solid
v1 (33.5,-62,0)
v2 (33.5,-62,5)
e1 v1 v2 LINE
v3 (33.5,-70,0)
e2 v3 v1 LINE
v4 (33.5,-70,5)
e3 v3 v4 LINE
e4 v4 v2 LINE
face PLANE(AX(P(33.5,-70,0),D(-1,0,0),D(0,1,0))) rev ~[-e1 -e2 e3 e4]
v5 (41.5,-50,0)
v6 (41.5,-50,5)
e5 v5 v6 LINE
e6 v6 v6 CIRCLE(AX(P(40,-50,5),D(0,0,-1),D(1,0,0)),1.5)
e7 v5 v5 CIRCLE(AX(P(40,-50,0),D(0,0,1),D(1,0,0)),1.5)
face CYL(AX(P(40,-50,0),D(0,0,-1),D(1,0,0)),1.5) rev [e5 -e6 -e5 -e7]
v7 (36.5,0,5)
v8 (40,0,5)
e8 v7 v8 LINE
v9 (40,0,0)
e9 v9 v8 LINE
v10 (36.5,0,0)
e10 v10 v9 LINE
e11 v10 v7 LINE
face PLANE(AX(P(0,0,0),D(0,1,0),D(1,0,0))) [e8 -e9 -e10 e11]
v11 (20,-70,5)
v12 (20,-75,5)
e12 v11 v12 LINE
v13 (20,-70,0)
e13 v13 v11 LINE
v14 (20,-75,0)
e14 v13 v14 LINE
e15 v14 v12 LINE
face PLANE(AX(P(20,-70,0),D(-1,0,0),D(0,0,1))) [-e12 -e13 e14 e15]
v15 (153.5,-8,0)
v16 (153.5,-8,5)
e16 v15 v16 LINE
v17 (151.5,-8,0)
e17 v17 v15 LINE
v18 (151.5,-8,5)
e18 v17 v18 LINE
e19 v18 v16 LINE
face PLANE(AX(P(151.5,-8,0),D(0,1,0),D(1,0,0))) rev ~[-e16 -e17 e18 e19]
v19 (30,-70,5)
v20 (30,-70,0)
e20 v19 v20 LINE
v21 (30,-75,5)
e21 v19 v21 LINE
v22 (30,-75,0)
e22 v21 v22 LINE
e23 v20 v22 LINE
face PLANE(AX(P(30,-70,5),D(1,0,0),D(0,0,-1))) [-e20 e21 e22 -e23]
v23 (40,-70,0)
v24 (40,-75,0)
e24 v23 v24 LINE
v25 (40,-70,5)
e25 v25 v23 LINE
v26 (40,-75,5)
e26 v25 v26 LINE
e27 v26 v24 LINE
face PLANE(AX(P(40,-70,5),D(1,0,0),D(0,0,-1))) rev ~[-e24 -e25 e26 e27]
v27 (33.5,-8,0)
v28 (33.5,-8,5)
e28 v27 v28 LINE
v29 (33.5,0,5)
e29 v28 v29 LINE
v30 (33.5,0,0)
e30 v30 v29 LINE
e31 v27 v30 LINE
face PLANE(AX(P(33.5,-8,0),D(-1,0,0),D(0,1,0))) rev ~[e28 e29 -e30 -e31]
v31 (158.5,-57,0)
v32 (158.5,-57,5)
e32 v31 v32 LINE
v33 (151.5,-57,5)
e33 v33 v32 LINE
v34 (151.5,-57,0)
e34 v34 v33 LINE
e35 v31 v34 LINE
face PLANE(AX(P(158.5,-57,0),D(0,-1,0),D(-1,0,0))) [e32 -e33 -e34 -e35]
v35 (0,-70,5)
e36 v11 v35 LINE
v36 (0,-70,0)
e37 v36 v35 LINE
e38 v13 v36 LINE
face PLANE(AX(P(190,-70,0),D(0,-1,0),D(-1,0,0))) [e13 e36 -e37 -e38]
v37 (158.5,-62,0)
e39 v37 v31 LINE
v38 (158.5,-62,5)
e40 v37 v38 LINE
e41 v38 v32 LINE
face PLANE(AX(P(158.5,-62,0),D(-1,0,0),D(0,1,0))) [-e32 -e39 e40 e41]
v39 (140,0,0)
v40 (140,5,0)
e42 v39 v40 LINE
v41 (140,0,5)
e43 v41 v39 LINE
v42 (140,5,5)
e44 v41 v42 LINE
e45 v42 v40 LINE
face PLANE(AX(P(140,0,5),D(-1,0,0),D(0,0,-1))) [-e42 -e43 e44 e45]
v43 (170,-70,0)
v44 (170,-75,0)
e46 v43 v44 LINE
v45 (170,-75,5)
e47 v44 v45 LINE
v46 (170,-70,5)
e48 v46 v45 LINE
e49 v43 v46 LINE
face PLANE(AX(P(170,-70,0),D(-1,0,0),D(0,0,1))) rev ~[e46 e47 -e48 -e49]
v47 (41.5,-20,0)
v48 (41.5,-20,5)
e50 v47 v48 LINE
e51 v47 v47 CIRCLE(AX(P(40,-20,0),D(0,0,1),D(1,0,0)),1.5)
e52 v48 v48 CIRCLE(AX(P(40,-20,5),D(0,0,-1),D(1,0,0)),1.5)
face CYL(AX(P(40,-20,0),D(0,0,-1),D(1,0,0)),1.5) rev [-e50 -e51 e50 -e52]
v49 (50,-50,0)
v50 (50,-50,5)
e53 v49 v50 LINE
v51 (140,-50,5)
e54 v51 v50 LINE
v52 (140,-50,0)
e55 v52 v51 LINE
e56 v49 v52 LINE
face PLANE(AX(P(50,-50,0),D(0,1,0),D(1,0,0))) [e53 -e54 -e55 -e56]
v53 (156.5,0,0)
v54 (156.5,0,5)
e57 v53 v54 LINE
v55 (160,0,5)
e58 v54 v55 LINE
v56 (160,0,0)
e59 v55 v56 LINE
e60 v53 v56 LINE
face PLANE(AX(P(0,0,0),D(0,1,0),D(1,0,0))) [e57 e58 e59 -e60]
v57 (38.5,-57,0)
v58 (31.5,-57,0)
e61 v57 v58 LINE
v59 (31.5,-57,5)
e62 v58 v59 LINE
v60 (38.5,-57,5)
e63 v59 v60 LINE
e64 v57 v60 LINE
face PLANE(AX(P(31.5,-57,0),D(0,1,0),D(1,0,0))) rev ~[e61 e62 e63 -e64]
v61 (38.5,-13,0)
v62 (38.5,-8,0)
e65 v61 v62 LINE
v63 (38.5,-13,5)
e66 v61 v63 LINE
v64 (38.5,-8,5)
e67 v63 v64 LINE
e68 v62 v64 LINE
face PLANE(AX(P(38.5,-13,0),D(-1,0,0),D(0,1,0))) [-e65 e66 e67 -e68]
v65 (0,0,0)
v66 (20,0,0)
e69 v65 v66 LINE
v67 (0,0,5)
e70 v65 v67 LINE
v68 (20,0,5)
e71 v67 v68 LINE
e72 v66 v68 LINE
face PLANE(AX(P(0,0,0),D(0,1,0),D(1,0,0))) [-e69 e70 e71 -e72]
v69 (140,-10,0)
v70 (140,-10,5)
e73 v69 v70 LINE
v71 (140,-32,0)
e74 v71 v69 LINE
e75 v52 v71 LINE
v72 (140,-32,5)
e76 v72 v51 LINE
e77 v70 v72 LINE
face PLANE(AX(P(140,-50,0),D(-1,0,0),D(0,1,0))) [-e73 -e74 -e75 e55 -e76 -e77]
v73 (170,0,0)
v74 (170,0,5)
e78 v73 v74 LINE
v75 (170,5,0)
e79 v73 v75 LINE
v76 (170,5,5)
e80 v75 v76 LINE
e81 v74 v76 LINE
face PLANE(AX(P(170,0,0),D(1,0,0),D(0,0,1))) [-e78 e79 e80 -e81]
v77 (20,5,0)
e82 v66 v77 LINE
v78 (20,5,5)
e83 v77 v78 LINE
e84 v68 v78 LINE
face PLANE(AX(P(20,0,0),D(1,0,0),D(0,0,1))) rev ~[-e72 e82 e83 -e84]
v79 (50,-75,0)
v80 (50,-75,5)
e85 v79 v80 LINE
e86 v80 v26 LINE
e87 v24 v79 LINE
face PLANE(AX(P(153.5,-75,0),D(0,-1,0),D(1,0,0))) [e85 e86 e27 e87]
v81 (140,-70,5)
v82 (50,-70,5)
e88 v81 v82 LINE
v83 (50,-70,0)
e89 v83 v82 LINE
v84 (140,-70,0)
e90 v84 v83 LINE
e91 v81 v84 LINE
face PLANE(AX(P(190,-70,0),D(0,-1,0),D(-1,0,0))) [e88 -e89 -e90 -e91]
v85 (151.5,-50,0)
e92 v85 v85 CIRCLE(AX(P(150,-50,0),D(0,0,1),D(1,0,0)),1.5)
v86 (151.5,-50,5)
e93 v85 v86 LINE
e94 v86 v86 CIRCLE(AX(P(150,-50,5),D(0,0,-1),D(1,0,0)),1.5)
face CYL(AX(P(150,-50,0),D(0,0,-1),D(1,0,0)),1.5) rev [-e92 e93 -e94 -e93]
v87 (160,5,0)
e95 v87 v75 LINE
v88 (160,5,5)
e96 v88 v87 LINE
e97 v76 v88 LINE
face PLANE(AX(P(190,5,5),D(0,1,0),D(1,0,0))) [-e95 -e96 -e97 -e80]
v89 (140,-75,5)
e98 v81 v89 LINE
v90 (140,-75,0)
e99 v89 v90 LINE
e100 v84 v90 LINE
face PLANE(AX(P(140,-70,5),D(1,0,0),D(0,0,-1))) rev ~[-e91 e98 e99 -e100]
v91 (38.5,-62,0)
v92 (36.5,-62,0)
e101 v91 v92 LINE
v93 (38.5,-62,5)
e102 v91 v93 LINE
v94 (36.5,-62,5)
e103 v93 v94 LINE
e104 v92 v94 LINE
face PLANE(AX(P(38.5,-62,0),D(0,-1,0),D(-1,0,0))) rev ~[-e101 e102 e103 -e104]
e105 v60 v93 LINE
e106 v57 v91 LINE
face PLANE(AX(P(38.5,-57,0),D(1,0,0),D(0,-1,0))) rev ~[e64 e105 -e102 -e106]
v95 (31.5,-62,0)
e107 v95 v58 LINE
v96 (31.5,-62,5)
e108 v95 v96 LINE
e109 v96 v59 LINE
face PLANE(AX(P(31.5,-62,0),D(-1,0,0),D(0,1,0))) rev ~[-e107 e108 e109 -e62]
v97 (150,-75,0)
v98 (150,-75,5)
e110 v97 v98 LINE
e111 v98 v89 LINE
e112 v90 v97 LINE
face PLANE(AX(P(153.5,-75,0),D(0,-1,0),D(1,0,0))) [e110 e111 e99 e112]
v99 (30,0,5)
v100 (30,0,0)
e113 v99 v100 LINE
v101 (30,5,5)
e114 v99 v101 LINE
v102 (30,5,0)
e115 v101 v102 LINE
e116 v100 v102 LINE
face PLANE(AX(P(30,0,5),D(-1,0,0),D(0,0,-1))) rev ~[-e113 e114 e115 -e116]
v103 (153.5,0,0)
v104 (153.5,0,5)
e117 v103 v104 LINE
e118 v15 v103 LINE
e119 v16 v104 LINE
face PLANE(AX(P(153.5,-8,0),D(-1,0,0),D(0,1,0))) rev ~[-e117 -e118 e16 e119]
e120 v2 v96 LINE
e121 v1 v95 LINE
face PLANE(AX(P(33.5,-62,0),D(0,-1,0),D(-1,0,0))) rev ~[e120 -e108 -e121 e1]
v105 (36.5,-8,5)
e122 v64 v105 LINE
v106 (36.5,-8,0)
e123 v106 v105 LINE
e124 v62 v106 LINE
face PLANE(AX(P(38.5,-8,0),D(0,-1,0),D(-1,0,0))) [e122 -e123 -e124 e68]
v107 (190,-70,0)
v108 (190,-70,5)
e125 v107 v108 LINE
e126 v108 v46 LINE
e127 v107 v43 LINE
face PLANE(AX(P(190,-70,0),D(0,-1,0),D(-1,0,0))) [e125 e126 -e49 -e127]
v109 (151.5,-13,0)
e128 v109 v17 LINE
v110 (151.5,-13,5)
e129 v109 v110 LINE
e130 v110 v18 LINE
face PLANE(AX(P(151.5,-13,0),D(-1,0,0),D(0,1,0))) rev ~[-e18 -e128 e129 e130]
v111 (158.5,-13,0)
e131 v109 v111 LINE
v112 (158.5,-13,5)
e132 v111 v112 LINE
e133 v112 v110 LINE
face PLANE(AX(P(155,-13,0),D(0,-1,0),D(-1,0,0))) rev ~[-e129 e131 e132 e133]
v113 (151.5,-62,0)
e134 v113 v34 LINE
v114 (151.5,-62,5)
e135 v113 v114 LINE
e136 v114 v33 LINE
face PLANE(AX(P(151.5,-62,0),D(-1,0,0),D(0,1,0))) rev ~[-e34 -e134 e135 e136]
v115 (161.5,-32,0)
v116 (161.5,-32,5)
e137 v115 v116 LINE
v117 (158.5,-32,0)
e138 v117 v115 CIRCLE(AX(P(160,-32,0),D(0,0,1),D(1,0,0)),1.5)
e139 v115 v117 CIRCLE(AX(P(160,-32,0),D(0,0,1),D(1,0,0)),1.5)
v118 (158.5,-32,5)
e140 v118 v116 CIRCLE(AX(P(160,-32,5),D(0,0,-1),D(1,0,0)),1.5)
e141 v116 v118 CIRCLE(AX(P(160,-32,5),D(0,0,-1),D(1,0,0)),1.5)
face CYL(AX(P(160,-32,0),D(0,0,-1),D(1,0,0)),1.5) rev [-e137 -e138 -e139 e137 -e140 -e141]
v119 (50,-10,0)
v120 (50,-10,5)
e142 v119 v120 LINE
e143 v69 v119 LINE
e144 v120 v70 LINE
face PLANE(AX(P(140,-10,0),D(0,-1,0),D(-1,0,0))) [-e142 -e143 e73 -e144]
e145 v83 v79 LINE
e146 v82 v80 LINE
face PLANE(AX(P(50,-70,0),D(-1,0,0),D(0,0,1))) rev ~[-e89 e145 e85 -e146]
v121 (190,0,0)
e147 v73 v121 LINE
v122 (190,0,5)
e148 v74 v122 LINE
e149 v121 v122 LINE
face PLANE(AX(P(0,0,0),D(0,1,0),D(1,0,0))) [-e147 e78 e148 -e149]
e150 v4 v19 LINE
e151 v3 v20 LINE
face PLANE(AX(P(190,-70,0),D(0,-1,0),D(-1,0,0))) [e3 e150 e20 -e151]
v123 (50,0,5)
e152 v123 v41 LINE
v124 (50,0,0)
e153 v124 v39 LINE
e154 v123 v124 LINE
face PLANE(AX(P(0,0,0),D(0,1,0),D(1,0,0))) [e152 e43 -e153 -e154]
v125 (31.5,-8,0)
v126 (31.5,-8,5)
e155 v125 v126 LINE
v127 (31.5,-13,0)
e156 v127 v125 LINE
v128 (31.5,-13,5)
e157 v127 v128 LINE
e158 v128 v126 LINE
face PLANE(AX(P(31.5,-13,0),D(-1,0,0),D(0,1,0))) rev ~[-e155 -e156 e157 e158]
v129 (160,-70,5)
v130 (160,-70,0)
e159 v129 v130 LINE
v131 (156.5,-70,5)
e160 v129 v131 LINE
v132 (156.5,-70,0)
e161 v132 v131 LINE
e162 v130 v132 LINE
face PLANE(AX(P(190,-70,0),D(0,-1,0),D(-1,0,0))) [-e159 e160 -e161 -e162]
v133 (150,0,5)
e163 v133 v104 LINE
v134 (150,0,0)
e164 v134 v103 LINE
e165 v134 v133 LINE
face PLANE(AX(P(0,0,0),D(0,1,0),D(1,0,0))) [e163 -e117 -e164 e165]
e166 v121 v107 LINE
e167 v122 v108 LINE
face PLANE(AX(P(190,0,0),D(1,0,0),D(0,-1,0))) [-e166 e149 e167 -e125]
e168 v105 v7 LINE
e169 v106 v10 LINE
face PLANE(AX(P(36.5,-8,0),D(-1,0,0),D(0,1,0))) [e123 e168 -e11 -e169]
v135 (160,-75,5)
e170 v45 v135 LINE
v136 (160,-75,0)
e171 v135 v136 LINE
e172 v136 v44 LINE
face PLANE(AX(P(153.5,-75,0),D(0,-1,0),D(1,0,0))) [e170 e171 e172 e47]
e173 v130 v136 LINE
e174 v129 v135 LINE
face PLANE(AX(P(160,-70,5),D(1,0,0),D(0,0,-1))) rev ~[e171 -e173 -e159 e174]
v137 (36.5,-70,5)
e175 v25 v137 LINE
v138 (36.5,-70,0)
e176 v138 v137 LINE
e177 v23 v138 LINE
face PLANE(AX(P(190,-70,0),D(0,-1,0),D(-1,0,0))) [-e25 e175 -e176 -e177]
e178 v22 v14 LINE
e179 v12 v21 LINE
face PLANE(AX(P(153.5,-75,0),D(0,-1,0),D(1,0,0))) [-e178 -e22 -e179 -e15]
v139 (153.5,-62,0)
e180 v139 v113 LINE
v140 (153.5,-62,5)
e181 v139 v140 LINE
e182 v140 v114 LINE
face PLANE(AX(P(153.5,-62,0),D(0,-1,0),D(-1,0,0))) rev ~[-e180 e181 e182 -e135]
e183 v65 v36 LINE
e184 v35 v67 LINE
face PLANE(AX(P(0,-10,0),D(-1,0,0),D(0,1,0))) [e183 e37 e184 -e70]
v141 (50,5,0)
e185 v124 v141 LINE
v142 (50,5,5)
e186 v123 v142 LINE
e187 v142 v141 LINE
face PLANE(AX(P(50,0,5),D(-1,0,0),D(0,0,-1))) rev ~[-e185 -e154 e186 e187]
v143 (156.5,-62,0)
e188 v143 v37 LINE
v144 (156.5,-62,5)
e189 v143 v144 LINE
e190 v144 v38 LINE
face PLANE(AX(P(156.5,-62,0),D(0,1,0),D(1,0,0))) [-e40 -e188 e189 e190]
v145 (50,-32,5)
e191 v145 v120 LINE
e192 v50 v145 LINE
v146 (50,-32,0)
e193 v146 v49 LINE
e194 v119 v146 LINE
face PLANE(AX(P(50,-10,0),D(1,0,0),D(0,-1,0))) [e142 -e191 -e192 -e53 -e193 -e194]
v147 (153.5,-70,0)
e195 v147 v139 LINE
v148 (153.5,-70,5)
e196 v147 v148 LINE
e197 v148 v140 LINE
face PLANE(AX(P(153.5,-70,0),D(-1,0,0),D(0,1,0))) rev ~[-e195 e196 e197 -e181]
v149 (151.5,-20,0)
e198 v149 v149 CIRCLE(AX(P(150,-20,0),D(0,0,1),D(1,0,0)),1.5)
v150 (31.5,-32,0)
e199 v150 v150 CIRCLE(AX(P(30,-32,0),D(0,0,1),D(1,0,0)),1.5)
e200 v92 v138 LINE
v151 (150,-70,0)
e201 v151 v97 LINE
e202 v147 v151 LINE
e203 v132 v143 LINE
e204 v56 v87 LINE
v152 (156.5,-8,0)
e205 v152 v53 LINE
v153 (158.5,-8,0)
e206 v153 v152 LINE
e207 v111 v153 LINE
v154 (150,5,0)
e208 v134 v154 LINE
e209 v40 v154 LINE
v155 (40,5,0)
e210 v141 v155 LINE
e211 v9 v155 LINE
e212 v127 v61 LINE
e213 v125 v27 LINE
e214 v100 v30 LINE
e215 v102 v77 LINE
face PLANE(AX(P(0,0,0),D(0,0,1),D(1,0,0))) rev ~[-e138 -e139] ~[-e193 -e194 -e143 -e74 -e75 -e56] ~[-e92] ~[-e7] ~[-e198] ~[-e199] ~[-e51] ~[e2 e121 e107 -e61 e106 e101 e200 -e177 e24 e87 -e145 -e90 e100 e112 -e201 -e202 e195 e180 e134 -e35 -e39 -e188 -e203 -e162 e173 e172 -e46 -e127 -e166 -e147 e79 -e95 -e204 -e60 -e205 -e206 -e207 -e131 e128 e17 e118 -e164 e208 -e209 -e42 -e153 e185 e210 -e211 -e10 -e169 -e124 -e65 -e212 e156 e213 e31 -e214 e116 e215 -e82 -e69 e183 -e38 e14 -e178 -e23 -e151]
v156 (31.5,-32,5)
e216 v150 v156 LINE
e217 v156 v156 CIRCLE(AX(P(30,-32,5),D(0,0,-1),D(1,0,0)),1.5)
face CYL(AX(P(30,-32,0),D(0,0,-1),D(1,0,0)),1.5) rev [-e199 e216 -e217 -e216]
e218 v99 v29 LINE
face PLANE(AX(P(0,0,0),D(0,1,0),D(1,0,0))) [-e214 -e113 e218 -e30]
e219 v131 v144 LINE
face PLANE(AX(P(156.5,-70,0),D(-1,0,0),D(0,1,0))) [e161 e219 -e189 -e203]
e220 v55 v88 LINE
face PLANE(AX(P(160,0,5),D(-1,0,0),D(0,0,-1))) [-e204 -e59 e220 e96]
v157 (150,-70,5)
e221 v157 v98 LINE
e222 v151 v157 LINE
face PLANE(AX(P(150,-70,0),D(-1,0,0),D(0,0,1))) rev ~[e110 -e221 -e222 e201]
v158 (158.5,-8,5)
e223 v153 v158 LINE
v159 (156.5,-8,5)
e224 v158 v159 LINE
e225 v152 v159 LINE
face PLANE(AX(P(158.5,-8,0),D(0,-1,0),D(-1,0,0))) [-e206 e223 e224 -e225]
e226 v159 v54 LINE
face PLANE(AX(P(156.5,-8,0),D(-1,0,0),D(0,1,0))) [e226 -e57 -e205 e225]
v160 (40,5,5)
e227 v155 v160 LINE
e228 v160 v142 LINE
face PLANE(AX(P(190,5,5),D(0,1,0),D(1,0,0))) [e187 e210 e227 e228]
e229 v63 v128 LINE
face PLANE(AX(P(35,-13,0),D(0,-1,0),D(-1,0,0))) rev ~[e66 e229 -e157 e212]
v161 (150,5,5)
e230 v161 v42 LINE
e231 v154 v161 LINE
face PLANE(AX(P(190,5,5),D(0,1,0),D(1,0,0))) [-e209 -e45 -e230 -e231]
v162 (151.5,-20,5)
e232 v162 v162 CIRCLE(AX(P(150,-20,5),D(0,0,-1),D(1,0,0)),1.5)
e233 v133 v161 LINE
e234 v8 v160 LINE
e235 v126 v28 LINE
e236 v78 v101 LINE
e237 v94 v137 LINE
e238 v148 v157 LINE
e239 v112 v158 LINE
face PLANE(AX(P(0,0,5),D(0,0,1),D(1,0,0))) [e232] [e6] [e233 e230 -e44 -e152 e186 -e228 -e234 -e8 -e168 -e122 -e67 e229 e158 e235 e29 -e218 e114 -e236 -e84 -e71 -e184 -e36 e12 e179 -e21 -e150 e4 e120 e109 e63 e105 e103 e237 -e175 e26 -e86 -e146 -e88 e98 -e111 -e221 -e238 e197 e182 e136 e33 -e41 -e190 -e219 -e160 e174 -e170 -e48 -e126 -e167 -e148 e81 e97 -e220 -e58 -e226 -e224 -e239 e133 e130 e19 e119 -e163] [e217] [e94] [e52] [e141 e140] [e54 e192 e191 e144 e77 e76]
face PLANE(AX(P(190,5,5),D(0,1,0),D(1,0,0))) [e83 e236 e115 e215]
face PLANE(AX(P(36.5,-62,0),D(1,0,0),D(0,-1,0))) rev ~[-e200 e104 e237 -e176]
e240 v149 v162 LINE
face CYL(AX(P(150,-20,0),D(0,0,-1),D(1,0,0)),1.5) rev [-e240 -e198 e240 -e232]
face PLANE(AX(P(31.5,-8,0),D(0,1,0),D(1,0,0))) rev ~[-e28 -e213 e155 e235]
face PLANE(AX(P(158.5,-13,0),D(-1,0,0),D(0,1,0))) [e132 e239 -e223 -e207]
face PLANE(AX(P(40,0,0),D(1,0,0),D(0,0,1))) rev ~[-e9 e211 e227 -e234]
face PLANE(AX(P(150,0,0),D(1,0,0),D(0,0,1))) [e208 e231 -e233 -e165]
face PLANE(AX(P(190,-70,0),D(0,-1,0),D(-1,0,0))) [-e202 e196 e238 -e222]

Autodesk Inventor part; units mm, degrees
ref_plane "YZ Plane" through (0, 0, 0) normal (1, 0, 0) x (0, 1, 0)
ref_plane "XZ Plane" through (0, 0, 0) normal (0, 1, 0) x (-1, 0, 0)
ref_plane "XY Plane" through (0, 0, 0) normal (0, 0, 1) x (1, 0, 0)
sketch "Sketch1" plane through (0, 0, 0) normal (0, 0, 1) x (1, 0, 0)
  line L0 (0, 0) -> (190, 0)
  line L1 (190, 0) -> (190, -70)
  line L2 (190, -70) -> (0, -70)
  line L3 (0, -70) -> (0, 0)
  line L4 (0, 0) -> (0, -40)
  line L5 (0, 0) -> (0, -10)
  line L6 (50, -10) -> (50, -50)
  line L7 (50, -50) -> (140, -50)
  line L8 (140, -50) -> (140, -10)
  line L9 (140, -10) -> (50, -10)
  circle A0 centre (40, -20) radius 1.5
  circle A1 centre (150, -20) radius 1.5
  circle A2 centre (150, -50) radius 1.5
  circle A3 centre (40, -50) radius 1.5
  line L10 (50, -10) -> (50, -12)
  line L11 (50, -12) -> (50, -32)
  line L12 (50, -32) -> (30, -32)
  line L13 (140, -32) -> (160, -32)
  circle A4 centre (30, -32) radius 1.5
  circle A5 centre (160, -32) radius 1.5
  dimension "d0" = 190
  dimension "d1" = 70
  dimension "d116" = 40
  dimension "d118" = 50
  dimension "d119" = 40
  dimension "d120" = 90
  dimension "d125" = 3
  dimension "d126" = 3
  dimension "d127" = 3
  dimension "d128" = 3
  dimension "d130" = 20
  dimension "d131" = 20
  dimension "d132" = 20
  dimension "d133" = 3
  dimension "d134" = 3
  dimension "d140" = 20
  dimension "d141" = 20
  dimension "d145" = 18
  dimension "d146" = 18
extrude "Extrusion3" add sketch "Sketch1" along normal blind 5 contours L0 L1 L2 L3 | L9 L8 L7 L6 | A5 | A4 | A0 | A1 | A2 | A3
sketch "Sketch3" plane through (0, 0, 0) normal (0, 0, -1) x (-1, 0, 0)
  line L0 (0, 0) -> (-35, 0)
  line L1 (-35, 0) -> (-35, -13)
  line L2 (-35, -13) -> (-31.5, -13)
  line L3 (-35, -13) -> (-38.5, -13)
  line L4 (-38.5, -13) -> (-38.5, -8)
  line L5 (-38.5, -8) -> (-36.5, -8)
  line L6 (-36.5, -8) -> (-36.5, 0)
  line L7 (-31.5, -13) -> (-31.5, -8)
  line L8 (-31.5, -8) -> (-33.5, -8)
  line L9 (-33.5, -8) -> (-33.5, 0)
  line L10 (-35, 0) -> (-75, 0) construction
  line L11 (-75, 0) -> (-75, -13)
  line L12 (-75, -13) -> (-71.5, -13)
  line L13 (-75, -13) -> (-78.5, -13)
  line L14 (-78.5, -13) -> (-78.5, -8)
  line L15 (-78.5, -8) -> (-76.5, -8)
  line L16 (-71.5, -13) -> (-71.5, -8)
  line L17 (-71.5, -8) -> (-73.5, -8)
  line L18 (-73.5, -8) -> (-73.5, 0)
  line L19 (-76.5, -8) -> (-76.5, 0)
  line L20 (0, 0) -> (-190, 0) projected
  line L21 (-75, 0) -> (-115, 0)
  line L22 (-115, 0) -> (-115, -13)
  line L23 (-115, -13) -> (-111.5, -13)
  line L24 (-111.5, -13) -> (-111.5, -8)
  line L25 (-111.5, -8) -> (-113.5, -8)
  line L26 (-113.5, -8) -> (-113.5, 0)
  line L27 (-115, -13) -> (-118.5, -13)
  line L28 (-118.5, -13) -> (-118.5, -8)
  line L29 (-118.5, -8) -> (-116.5, -8)
  line L30 (-116.5, -8) -> (-116.5, 0)
  line L31 (-115, 0) -> (-155, 0)
  line L32 (-155, 0) -> (-155, -13)
  line L33 (-155, -13) -> (-151.5, -13)
  line L34 (-151.5, -13) -> (-151.5, -8)
  line L35 (-151.5, -8) -> (-153.5, -8)
  line L36 (-153.5, -8) -> (-153.5, 0)
  line L37 (-155, -13) -> (-158.5, -13)
  line L38 (-158.5, -13) -> (-158.5, -8)
  line L39 (-158.5, -8) -> (-156.5, -8)
  line L40 (-156.5, -8) -> (-156.5, 0)
  line L41 (-76.5, 0) -> (-73.5, 0)
  line L42 (-33.5, -8) -> (-31.5, -8)
  line L43 (-36.5, 0) -> (-33.5, 0)
  line L44 (-155, 0) -> (-155, -70)
  line L45 (-115, 0) -> (-115, -70)
  line L46 (-75, 0) -> (-75, -70)
  line L47 (-35, 0) -> (-35, -70)
  line L48 (-155, -70) -> (-153.5, -70)
  line L49 (-153.5, -70) -> (-153.5, -62)
  line L50 (-153.5, -62) -> (-151.5, -62)
  line L51 (-151.5, -62) -> (-151.5, -57)
  line L52 (-151.5, -57) -> (-155, -57)
  line L53 (-155, -70) -> (-156.5, -70)
  line L54 (-156.5, -70) -> (-156.5, -62)
  line L55 (-156.5, -62) -> (-158.5, -62)
  line L56 (-158.5, -62) -> (-158.5, -57)
  line L57 (-158.5, -57) -> (-155, -57)
  line L58 (-115, -70) -> (-113.5, -70)
  line L59 (-113.5, -70) -> (-113.5, -62)
  line L60 (-113.5, -62) -> (-111.5, -62)
  line L61 (-111.5, -62) -> (-111.5, -57)
  line L62 (-111.5, -57) -> (-115, -57)
  line L63 (-115, -70) -> (-116.5, -70)
  line L64 (-116.5, -70) -> (-116.5, -62)
  line L65 (-116.5, -62) -> (-118.5, -62)
  line L66 (-118.5, -62) -> (-118.5, -57)
  line L67 (-118.5, -57) -> (-115, -57)
  line L68 (-75, -70) -> (-73.5, -70)
  line L69 (-73.5, -70) -> (-73.5, -62)
  line L70 (-73.5, -62) -> (-71.5, -62)
  line L71 (-71.5, -62) -> (-71.5, -57)
  line L72 (-71.5, -57) -> (-75, -57)
  line L73 (-75, -70) -> (-76.5, -70)
  line L74 (-76.5, -70) -> (-76.5, -62)
  line L75 (-76.5, -62) -> (-78.5, -62)
  line L76 (-78.5, -62) -> (-78.5, -57)
  line L77 (-78.5, -57) -> (-75, -57)
  line L78 (-35, -70) -> (-33.5, -70)
  line L79 (-33.5, -70) -> (-33.5, -62)
  line L80 (-33.5, -62) -> (-31.5, -62)
  line L81 (-31.5, -62) -> (-31.5, -57)
  line L82 (-31.5, -57) -> (-38.5, -57)
  line L83 (-38.5, -57) -> (-38.5, -62)
  line L84 (-38.5, -62) -> (-36.5, -62)
  line L85 (-36.5, -62) -> (-36.5, -70)
  line L86 (-36.5, -70) -> (-35, -70)
  dimension "d14" = 35
  dimension "d15" = 13
  dimension "d16" = 3.5
  dimension "d17" = 3.5
  dimension "d18" = 5
  dimension "d19" = 2
  dimension "d20" = 2
  dimension "d21" = 40
  dimension "d22" = 13
  dimension "d23" = 3.5
  dimension "d24" = 3.5
  dimension "d25" = 5
  dimension "d26" = 2
  dimension "d27" = 2
  dimension "d28" = 40
  dimension "d29" = 8
  dimension "d30" = 13
  dimension "d31" = 40
  dimension "d32" = 13
  dimension "d33" = 3.5
  dimension "d34" = 5
  dimension "d35" = 2
  dimension "d36" = 3.5
  dimension "d37" = 5
  dimension "d38" = 2
  dimension "d39" = 40
  dimension "d40" = 13
  dimension "d41" = 3.5
  dimension "d42" = 5
  dimension "d43" = 2
  dimension "d44" = 3.5
  dimension "d45" = 5
  dimension "d46" = 2
  dimension "d63" = 8
  dimension "d66" = 1.5
  dimension "d67" = 5
  dimension "d68" = 1.5
  dimension "d69" = 2
  dimension "d70" = 5
  dimension "d71" = 1.5
  dimension "d72" = 2
  dimension "d73" = 8
  dimension "d74" = 2
  dimension "d75" = 1.5
extrude "Extrusion4" cut sketch "Sketch3" against normal blind 5 contours L32 L37 L38 L39 L40 L20
extrude "Extrusion5" cut sketch "Sketch3" against normal blind 5 contours L36 L35 L34 L33 L32 L20
extrude "Extrusion9" cut sketch "Sketch3" against normal blind 5 contours L9 L8 L7 L2 L1 L0
extrude "Extrusion10" cut sketch "Sketch3" against normal blind 5 contours L1 L3 L4 L5 L6 L20
extrude "Extrusion11" cut sketch "Sketch3" against normal blind 5 contours L44 L53 L54 L55 L56 L57
extrude "Extrusion12" cut sketch "Sketch3" against normal blind 5 contours L52 L51 L50 L49 L48 L44
extrude "Extrusion17" cut sketch "Sketch3" against normal blind 5 contours L82 L81 L80 L79 L78 L47 | L47 L86 L85 L84 L83 L82
sketch "Sketch4" plane through (153.5, -70, 0) normal (0, -1, 0) x (1, 0, 0)
  line L0 (-153.5, 0) -> (-133.5, 0)
  line L1 (-133.5, 0) -> (-133.5, 5)
  line L2 (-133.5, 5) -> (-123.5, 5)
  line L3 (-123.5, 5) -> (-123.5, 0)
  line L4 (-123.5, 0) -> (-133.5, 0)
  line L5 (-123.5, 5) -> (-113.5, 5)
  line L6 (-113.5, 5) -> (-113.5, 0)
  line L7 (-113.5, 0) -> (-103.5, 0)
  line L8 (-103.5, 0) -> (-103.5, 5)
  line L9 (-103.5, 5) -> (-113.5, 5)
  line L10 (-153.5, 0) -> (36.5, 0)
  line L11 (36.5, 0) -> (16.5, 0)
  line L12 (16.5, 0) -> (16.5, 5)
  line L13 (16.5, 5) -> (6.5, 5)
  line L14 (6.5, 5) -> (6.5, 0)
  line L15 (6.5, 0) -> (-3.5, 0)
  line L16 (-3.5, 0) -> (-3.5, 5)
  line L17 (-3.5, 5) -> (-13.5, 5)
  line L18 (-13.5, 5) -> (-13.5, 0)
  dimension "d90" = 20
  dimension "d91" = 5
  dimension "d92" = 10
  dimension "d93" = 10
  dimension "d94" = 10
  dimension "d95" = 190
  dimension "d96" = 20
  dimension "d97" = 10
  dimension "d98" = 10
  dimension "d99" = 10
extrude "Extrusion18" add sketch "Sketch4" along normal blind 5 contours L14 L13 L12 L10 | L18 L17 L16 L10 | L1 L2 L3 L4 | L6 L9 L8 L7
sketch "Sketch5" plane through (190, 0, 5) normal (0, 1, 0) x (1, 0, 0)
  line L0 (-190, 5) -> (-170, 5)
  line L1 (-170, 5) -> (-170, 0)
  line L2 (-170, 0) -> (-160, 0)
  line L3 (-160, 0) -> (-160, 5)
  line L4 (-160, 5) -> (-170, 5)
  line L5 (-160, 5) -> (-150, 5)
  line L6 (-150, 5) -> (-150, 0)
  line L7 (-150, 0) -> (-140, 0)
  line L8 (-140, 0) -> (-140, 5)
  line L9 (-140, 5) -> (-150, 5)
  line L10 (-190, 5) -> (0, 5)
  line L11 (0, 5) -> (-20, 5)
  line L12 (-20, 5) -> (-20, 0)
  line L13 (-20, 0) -> (-30, 0)
  line L14 (-30, 0) -> (-30, 5)
  line L15 (-30, 5) -> (-40, 5)
  line L16 (-40, 5) -> (-40, 0)
  line L17 (-40, 0) -> (-50, 0)
  line L18 (-50, 0) -> (-50, 5)
  dimension "d102" = 20
  dimension "d103" = 5
  dimension "d104" = 10
  dimension "d105" = 10
  dimension "d106" = 10
  dimension "d107" = 190
  dimension "d108" = 20
  dimension "d109" = 5
  dimension "d110" = 10
  dimension "d111" = 10
  dimension "d112" = 5
  dimension "d113" = 10
extrude "Extrusion19" add sketch "Sketch5" along normal blind 5
extrude "Extrusion20" cut sketch "Sketch1" along normal blind 10 contours L9 L8 L7 L6
extrude "Extrusion22" cut sketch "Sketch1" along normal blind 10 contours A5 | A4 | A0 | A1 | A2 | A3
properties part number "lateral_mdf2"
